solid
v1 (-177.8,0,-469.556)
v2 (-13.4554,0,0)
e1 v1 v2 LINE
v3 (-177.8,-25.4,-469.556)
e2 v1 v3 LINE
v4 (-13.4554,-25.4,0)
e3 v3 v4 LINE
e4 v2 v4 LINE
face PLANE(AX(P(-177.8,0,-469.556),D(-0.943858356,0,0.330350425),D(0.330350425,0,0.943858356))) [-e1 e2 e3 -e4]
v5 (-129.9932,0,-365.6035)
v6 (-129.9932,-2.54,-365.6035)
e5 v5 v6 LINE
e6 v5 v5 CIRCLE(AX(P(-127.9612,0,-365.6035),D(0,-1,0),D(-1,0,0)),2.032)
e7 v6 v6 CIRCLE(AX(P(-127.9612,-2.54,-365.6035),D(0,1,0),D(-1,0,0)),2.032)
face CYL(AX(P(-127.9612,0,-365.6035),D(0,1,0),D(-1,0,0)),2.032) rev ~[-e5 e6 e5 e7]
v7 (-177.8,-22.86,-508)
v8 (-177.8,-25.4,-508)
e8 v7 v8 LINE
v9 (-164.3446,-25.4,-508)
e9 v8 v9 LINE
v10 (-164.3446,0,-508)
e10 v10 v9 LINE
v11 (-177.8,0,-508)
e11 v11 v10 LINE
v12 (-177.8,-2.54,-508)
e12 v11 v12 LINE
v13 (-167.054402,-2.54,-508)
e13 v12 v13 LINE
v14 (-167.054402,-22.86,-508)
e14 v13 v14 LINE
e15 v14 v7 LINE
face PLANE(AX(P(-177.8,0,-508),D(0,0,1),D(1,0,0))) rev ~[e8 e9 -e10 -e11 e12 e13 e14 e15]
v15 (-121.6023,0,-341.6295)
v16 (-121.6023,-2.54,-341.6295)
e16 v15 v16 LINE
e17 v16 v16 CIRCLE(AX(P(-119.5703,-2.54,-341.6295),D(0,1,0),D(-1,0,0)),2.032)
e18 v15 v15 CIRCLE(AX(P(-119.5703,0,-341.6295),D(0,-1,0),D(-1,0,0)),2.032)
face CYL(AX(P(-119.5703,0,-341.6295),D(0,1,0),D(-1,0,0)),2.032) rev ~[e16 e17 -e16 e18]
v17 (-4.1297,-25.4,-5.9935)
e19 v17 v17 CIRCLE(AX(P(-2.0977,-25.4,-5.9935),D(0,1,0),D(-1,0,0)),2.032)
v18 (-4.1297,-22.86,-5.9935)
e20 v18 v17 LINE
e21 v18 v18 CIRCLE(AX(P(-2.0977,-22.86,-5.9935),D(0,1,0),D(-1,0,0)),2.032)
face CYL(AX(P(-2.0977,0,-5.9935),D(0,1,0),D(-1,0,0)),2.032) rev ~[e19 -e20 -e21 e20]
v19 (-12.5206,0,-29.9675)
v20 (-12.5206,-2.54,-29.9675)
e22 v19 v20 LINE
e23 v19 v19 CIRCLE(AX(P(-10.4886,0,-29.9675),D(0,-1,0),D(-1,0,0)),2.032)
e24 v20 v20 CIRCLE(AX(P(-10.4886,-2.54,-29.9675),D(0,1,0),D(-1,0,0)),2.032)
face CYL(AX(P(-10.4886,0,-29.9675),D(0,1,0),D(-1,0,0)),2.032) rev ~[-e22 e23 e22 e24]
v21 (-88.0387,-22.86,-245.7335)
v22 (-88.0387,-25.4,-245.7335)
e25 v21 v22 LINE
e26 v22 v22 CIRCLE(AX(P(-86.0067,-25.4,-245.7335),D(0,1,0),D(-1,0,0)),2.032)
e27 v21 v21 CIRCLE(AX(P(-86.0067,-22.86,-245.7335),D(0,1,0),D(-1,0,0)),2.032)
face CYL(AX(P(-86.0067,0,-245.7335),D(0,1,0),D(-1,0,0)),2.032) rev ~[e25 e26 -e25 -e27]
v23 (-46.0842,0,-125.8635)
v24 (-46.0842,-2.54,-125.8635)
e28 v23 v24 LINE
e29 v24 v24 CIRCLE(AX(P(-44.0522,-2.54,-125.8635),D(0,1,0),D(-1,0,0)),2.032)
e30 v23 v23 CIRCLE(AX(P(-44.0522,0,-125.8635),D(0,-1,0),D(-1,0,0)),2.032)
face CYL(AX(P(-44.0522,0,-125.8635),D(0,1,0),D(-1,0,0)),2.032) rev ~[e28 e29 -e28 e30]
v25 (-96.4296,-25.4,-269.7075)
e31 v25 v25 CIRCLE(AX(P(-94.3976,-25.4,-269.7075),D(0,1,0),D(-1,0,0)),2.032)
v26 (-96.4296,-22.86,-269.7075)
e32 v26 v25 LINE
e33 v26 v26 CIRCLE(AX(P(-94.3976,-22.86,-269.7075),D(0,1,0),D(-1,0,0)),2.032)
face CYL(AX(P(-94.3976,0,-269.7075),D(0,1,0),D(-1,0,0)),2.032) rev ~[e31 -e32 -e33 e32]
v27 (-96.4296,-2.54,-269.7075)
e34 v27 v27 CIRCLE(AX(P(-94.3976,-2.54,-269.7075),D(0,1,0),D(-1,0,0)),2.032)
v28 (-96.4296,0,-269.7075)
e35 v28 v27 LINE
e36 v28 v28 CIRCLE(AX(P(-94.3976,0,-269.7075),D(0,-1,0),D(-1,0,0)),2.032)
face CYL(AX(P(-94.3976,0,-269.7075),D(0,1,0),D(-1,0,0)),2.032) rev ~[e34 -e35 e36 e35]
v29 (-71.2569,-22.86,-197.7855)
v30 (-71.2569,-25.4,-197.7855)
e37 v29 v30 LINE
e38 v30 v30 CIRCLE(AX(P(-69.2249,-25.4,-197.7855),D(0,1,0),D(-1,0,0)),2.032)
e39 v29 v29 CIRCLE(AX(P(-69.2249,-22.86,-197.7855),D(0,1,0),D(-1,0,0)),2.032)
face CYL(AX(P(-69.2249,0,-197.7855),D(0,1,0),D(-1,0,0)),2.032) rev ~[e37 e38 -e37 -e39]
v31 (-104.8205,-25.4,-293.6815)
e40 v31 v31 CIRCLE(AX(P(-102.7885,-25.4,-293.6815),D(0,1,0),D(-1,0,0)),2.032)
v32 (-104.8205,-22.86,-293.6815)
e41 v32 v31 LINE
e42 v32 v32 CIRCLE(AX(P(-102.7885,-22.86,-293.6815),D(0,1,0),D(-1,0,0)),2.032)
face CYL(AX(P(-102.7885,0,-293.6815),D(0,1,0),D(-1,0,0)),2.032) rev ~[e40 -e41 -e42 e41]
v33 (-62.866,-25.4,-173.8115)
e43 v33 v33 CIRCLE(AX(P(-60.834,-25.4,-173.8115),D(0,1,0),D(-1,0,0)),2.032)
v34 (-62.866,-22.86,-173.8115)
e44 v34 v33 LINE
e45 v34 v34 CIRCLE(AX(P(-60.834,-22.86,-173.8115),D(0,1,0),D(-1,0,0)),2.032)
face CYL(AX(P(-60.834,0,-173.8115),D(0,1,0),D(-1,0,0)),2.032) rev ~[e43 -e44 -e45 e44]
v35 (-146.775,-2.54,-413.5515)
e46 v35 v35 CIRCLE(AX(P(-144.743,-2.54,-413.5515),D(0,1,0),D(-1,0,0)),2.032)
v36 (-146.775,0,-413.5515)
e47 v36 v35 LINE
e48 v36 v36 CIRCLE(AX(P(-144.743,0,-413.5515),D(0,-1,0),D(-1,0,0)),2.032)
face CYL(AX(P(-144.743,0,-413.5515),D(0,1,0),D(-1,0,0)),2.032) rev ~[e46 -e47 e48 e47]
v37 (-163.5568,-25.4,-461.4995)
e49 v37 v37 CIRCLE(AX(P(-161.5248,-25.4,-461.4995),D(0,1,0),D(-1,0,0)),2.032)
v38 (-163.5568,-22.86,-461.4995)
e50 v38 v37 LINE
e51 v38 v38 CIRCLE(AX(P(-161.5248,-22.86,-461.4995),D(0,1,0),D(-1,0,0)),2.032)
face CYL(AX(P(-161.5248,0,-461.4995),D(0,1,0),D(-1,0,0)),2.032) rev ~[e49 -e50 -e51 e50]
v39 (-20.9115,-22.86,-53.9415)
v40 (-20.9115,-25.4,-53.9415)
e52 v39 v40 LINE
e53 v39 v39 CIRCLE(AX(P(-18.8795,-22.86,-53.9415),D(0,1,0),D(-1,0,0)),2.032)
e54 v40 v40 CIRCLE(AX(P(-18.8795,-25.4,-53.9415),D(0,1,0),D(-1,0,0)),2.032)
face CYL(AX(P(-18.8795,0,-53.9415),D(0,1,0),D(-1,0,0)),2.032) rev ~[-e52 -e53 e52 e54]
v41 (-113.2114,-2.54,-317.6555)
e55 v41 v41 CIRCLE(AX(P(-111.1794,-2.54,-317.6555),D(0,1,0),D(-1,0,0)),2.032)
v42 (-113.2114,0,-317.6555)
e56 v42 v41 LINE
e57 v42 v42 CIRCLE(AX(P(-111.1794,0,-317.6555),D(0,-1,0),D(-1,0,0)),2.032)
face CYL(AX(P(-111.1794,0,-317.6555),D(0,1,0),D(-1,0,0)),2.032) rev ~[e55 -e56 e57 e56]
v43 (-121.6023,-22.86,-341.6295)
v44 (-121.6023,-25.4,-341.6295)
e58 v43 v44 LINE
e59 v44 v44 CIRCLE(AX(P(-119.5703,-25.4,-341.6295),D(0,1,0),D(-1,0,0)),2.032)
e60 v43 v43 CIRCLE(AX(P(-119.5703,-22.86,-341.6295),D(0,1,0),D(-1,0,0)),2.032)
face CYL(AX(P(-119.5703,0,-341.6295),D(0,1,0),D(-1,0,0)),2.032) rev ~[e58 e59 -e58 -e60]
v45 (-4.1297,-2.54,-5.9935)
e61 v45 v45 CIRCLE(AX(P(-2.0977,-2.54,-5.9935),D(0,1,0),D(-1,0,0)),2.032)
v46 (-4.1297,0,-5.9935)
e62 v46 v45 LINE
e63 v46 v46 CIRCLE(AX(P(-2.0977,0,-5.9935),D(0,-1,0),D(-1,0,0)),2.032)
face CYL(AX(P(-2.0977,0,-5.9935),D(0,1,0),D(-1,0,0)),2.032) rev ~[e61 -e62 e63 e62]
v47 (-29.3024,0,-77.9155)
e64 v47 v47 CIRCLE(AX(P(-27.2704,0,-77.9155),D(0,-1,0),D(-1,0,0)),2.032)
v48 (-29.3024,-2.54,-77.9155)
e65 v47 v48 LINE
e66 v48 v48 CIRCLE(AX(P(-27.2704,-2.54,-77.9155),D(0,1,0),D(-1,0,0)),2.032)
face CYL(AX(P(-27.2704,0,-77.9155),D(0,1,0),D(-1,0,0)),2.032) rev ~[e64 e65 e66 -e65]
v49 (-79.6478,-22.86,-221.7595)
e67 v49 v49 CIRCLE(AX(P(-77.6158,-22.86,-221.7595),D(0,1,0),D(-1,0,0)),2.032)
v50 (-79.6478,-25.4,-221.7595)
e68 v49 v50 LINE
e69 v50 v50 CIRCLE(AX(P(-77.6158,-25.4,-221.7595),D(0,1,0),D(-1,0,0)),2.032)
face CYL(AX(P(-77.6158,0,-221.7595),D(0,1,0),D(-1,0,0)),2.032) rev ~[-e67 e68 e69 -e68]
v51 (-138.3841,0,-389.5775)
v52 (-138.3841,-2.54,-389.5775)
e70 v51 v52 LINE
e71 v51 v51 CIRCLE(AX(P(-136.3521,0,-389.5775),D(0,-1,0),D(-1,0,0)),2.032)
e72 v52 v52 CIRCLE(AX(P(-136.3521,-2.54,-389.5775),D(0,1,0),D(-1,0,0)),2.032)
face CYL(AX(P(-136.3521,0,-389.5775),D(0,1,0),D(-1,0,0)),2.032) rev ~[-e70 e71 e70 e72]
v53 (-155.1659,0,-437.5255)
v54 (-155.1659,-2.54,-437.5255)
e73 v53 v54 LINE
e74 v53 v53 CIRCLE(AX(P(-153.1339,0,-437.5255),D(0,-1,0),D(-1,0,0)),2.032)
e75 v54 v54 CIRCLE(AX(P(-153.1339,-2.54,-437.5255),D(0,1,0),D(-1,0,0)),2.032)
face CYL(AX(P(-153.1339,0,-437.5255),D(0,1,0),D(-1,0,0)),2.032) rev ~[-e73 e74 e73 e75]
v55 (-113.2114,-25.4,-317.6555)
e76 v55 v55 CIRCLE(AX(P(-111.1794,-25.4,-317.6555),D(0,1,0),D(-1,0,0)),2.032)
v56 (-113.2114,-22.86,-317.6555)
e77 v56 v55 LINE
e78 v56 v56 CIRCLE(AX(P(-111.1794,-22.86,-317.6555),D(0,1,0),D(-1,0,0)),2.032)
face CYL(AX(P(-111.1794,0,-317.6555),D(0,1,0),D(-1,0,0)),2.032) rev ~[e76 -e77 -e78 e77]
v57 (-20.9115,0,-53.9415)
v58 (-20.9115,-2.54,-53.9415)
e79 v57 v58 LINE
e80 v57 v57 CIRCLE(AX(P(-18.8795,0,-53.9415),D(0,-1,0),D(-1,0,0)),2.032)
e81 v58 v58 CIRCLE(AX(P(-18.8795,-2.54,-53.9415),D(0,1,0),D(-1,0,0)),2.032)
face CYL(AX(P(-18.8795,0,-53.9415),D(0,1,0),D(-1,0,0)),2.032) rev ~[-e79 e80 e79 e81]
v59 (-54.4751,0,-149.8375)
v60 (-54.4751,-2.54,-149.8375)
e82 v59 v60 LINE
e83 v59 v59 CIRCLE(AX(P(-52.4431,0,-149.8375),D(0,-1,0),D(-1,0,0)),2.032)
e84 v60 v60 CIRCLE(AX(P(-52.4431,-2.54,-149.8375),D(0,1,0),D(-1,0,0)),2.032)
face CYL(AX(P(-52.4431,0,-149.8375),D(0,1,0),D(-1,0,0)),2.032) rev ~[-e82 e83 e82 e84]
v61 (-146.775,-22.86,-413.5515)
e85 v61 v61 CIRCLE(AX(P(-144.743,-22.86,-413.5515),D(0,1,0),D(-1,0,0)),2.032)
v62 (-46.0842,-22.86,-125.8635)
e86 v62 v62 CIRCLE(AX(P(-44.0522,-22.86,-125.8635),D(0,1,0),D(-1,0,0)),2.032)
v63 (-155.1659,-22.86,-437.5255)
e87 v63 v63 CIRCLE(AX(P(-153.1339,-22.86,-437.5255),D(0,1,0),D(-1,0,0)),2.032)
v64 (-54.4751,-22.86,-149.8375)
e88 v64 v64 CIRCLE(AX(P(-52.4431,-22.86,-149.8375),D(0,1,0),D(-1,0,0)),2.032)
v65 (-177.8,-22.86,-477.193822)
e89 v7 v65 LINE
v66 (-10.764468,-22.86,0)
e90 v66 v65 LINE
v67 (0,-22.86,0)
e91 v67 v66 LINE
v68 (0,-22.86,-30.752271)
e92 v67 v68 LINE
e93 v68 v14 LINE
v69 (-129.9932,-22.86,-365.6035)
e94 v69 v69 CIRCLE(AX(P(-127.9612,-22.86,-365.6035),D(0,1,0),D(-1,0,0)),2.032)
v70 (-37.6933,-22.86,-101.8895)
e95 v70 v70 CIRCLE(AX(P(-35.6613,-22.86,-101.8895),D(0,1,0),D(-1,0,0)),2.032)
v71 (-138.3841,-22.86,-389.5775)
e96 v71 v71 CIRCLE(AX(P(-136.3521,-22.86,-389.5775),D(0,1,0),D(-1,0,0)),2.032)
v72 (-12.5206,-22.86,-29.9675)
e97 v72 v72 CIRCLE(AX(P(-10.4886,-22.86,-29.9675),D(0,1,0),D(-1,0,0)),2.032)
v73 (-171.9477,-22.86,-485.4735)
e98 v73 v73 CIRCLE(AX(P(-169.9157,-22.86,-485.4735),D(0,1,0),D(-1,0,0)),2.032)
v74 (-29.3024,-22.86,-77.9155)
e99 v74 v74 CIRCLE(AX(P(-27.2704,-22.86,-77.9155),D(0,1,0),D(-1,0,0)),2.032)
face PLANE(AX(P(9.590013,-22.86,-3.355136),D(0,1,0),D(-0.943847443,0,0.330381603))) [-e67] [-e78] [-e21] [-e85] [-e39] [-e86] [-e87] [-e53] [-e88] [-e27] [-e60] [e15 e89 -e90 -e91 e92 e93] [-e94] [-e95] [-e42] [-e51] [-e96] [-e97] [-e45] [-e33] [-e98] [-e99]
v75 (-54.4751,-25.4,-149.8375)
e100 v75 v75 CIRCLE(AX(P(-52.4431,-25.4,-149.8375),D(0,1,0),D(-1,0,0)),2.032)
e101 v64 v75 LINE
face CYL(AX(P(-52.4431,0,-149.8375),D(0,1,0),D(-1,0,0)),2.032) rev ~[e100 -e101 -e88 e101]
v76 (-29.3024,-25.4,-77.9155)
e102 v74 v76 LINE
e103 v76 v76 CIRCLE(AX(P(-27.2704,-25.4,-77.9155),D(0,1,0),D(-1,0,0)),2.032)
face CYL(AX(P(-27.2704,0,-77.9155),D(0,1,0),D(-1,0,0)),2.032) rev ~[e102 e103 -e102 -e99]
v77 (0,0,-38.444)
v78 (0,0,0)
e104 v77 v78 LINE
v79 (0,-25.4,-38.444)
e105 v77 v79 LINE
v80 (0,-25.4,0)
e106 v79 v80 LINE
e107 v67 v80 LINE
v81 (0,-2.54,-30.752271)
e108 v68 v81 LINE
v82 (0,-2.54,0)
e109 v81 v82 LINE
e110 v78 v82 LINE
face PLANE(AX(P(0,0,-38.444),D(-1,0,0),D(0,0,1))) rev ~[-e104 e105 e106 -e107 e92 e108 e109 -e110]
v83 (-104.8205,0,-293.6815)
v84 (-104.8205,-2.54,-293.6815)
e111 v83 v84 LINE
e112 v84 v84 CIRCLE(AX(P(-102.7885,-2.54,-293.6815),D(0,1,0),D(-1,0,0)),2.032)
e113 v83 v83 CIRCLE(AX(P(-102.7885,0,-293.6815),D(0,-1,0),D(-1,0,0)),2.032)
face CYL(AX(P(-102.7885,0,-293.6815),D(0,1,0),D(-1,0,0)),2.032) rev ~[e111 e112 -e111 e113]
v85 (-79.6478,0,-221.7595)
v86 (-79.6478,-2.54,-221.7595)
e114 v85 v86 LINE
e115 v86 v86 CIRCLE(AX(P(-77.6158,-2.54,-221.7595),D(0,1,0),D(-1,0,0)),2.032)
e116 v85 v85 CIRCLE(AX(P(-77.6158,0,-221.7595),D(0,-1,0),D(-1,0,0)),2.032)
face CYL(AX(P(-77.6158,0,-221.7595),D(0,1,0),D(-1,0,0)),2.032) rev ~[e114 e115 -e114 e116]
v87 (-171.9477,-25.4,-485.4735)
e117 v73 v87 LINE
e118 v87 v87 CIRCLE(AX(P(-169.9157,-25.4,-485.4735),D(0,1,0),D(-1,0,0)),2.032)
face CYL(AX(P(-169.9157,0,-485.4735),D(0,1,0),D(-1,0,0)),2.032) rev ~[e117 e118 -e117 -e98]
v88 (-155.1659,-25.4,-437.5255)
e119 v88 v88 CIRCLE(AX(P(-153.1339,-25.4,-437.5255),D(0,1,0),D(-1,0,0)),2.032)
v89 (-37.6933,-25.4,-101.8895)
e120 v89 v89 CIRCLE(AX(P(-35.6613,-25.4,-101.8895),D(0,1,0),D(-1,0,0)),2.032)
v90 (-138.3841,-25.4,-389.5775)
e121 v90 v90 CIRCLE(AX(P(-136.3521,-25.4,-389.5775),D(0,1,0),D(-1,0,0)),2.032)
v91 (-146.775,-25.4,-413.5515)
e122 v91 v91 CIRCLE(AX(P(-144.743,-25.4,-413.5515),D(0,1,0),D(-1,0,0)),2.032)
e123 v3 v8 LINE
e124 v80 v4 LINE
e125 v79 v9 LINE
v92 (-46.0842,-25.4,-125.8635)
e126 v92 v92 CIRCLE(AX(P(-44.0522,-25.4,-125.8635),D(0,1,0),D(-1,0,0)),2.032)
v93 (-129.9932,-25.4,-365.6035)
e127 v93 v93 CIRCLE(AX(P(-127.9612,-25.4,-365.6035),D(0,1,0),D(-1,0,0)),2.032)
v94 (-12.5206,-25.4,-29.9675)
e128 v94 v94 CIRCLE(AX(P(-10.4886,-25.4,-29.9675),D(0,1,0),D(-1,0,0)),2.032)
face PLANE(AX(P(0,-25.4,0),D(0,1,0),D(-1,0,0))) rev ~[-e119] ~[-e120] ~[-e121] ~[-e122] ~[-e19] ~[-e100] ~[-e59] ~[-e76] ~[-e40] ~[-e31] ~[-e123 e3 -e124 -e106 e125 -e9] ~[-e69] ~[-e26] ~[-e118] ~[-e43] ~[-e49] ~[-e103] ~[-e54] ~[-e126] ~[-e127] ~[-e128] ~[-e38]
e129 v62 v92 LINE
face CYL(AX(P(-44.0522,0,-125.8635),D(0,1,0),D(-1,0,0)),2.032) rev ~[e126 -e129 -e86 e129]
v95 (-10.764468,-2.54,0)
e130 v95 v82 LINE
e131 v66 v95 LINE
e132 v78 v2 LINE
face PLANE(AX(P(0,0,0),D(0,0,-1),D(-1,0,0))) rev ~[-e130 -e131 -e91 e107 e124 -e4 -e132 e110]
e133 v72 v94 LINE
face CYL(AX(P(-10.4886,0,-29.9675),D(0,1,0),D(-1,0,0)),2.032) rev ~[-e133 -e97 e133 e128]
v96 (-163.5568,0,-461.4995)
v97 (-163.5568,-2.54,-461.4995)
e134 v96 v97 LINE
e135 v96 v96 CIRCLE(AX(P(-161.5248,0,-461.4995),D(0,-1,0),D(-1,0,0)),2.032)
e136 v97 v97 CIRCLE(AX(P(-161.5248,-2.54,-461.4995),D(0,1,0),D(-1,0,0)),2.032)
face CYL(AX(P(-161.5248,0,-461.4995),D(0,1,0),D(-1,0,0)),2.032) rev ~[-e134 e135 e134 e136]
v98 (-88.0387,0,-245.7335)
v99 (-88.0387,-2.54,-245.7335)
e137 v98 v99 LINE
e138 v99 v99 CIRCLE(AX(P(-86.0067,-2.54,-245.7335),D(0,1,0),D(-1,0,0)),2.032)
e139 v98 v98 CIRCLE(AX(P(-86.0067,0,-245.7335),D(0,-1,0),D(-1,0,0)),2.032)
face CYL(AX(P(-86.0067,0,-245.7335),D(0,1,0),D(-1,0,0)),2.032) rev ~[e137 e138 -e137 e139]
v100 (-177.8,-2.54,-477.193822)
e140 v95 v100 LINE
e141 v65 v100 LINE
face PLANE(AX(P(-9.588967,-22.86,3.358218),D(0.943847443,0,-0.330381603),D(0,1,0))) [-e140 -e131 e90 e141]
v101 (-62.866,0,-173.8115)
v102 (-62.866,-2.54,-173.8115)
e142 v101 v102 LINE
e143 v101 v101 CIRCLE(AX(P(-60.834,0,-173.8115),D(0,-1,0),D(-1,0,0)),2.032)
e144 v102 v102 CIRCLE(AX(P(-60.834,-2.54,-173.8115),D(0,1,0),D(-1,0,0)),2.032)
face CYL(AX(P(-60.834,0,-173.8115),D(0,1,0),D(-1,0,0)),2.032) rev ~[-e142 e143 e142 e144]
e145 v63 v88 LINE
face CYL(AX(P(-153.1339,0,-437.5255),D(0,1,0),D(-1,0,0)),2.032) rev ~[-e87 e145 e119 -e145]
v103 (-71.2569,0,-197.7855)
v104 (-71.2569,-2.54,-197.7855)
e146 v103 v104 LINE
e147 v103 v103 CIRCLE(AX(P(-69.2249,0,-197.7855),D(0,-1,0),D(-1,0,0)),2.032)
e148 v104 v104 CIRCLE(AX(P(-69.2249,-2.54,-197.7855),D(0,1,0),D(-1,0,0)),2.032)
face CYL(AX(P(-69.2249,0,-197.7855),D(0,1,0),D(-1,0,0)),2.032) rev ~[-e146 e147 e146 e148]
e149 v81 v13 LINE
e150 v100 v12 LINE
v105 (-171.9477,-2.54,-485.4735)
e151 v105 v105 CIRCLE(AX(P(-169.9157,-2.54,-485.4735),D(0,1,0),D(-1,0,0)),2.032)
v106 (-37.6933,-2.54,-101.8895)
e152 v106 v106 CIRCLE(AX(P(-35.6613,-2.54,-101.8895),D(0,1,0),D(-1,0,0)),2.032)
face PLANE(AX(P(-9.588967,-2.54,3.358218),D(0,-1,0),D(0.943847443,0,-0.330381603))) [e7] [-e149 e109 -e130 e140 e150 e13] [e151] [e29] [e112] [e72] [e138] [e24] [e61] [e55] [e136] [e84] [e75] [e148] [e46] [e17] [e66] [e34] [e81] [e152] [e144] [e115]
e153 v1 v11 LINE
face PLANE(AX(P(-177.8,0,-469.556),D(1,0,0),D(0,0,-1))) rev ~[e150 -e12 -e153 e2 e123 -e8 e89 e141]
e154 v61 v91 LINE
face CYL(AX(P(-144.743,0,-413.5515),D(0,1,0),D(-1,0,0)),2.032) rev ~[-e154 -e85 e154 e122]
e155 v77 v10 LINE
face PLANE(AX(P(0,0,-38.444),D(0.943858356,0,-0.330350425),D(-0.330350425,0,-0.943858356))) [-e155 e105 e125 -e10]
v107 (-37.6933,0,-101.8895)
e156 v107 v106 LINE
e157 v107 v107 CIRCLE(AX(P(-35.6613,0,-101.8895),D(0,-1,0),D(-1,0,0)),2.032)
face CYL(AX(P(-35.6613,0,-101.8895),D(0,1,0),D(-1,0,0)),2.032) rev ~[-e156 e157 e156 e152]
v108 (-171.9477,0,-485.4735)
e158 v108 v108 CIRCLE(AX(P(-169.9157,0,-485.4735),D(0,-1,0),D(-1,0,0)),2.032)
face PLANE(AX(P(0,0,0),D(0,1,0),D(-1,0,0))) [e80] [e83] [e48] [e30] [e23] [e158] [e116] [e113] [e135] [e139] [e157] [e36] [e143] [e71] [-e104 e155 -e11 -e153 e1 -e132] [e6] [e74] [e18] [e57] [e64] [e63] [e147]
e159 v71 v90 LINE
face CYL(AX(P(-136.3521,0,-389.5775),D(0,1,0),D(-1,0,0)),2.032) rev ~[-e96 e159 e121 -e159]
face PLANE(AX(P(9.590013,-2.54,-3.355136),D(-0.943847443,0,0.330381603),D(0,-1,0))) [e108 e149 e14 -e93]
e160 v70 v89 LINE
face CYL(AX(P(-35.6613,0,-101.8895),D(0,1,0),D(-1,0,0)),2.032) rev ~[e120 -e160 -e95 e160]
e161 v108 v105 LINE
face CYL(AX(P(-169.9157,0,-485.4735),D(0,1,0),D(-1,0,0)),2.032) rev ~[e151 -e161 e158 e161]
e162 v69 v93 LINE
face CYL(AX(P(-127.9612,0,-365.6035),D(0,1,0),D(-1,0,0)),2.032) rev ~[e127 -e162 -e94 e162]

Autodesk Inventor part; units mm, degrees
ref_plane "YZ Plane" through (0, 0, 0) normal (1, 0, 0) x (0, 1, 0)
ref_plane "XZ Plane" through (0, 0, 0) normal (0, 1, 0) x (-1, 0, 0)
ref_plane "XY Plane" through (0, 0, 0) normal (0, 0, 1) x (1, 0, 0)
sketch "Sketch1" plane through (0, 0, 0) normal (0, 1, 0) x (-1, 0, 0)
  line L0 (0, 0) -> (177.8, 0)
  line L1 (177.8, 0) -> (177.8, -508)
  line L2 (177.8, -508) -> (0, -508)
  line L3 (0, -508) -> (0, 0)
  line L4 (11.987, 4.1955) -> (189.787, -503.8045)
  line L5 (-11.987, -4.1955) -> (165.813, -512.1955)
  line L6 (0, -38.444) -> (164.3446, -508)
  line L7 (177.8, -469.556) -> (13.4554, 0)
  line L8 (-11.987, -4.1955) -> (11.987, 4.1955)
  line L9 (189.787, -503.8045) -> (165.813, -512.1955)
  line L10 (0, 0) -> (2.0977, -5.9935)
  circle A0 centre (2.0977, -5.9935) radius 2.032
  line L11 (2.0977, -5.9935) -> (10.4886, -29.9675)
  circle A1 centre (10.4886, -29.9675) radius 2.032
  line L12 (10.4886, -29.9675) -> (18.8795, -53.9415)
  circle A2 centre (18.8795, -53.9415) radius 2.032
  line L13 (18.8795, -53.9415) -> (27.2704, -77.9155)
  circle A3 centre (27.2704, -77.9155) radius 2.032
  line L14 (27.2704, -77.9155) -> (35.6613, -101.8895)
  circle A4 centre (35.6613, -101.8895) radius 2.032
  line L15 (35.6613, -101.8895) -> (177.8, -508)
  line L16 (27.2704, -77.9155) -> (35.6613, -101.8895)
  circle A5 centre (35.6613, -101.8895) radius 2.032
  line L17 (35.6613, -101.8895) -> (44.0522, -125.8635)
  circle A6 centre (44.0522, -125.8635) radius 2.032
  line L18 (35.6613, -101.8895) -> (44.0522, -125.8635)
  circle A7 centre (44.0522, -125.8635) radius 2.032
  line L19 (44.0522, -125.8635) -> (52.4431, -149.8375)
  circle A8 centre (52.4431, -149.8375) radius 2.032
  line L20 (44.0522, -125.8635) -> (52.4431, -149.8375)
  circle A9 centre (52.4431, -149.8375) radius 2.032
  line L21 (52.4431, -149.8375) -> (60.834, -173.8115)
  circle A10 centre (60.834, -173.8115) radius 2.032
  line L22 (52.4431, -149.8375) -> (60.834, -173.8115)
  circle A11 centre (60.834, -173.8115) radius 2.032
  line L23 (60.834, -173.8115) -> (69.2249, -197.7855)
  circle A12 centre (69.2249, -197.7855) radius 2.032
  line L24 (60.834, -173.8115) -> (69.2249, -197.7855)
  circle A13 centre (69.2249, -197.7855) radius 2.032
  line L25 (69.2249, -197.7855) -> (77.6158, -221.7595)
  circle A14 centre (77.6158, -221.7595) radius 2.032
  line L26 (69.2249, -197.7855) -> (77.6158, -221.7595)
  circle A15 centre (77.6158, -221.7595) radius 2.032
  line L27 (77.6158, -221.7595) -> (86.0067, -245.7335)
  circle A16 centre (86.0067, -245.7335) radius 2.032
  line L28 (77.6158, -221.7595) -> (86.0067, -245.7335)
  circle A17 centre (86.0067, -245.7335) radius 2.032
  line L29 (86.0067, -245.7335) -> (94.3976, -269.7075)
  circle A18 centre (94.3976, -269.7075) radius 2.032
  line L30 (86.0067, -245.7335) -> (94.3976, -269.7075)
  circle A19 centre (94.3976, -269.7075) radius 2.032
  line L31 (94.3976, -269.7075) -> (102.7885, -293.6815)
  circle A20 centre (102.7885, -293.6815) radius 2.032
  line L32 (94.3976, -269.7075) -> (102.7885, -293.6815)
  circle A21 centre (102.7885, -293.6815) radius 2.032
  line L33 (102.7885, -293.6815) -> (111.1794, -317.6555)
  circle A22 centre (111.1794, -317.6555) radius 2.032
  line L34 (102.7885, -293.6815) -> (111.1794, -317.6555)
  circle A23 centre (111.1794, -317.6555) radius 2.032
  line L35 (111.1794, -317.6555) -> (119.5703, -341.6295)
  circle A24 centre (119.5703, -341.6295) radius 2.032
  line L36 (111.1794, -317.6555) -> (119.5703, -341.6295)
  circle A25 centre (119.5703, -341.6295) radius 2.032
  line L37 (119.5703, -341.6295) -> (127.9612, -365.6035)
  circle A26 centre (127.9612, -365.6035) radius 2.032
  line L38 (119.5703, -341.6295) -> (127.9612, -365.6035)
  circle A27 centre (127.9612, -365.6035) radius 2.032
  line L39 (127.9612, -365.6035) -> (136.3521, -389.5775)
  circle A28 centre (136.3521, -389.5775) radius 2.032
  line L40 (127.9612, -365.6035) -> (136.3521, -389.5775)
  circle A29 centre (136.3521, -389.5775) radius 2.032
  line L41 (136.3521, -389.5775) -> (144.743, -413.5515)
  circle A30 centre (144.743, -413.5515) radius 2.032
  line L42 (136.3521, -389.5775) -> (144.743, -413.5515)
  circle A31 centre (144.743, -413.5515) radius 2.032
  line L43 (144.743, -413.5515) -> (153.1339, -437.5255)
  circle A32 centre (153.1339, -437.5255) radius 2.032
  line L44 (144.743, -413.5515) -> (153.1339, -437.5255)
  circle A33 centre (153.1339, -437.5255) radius 2.032
  line L45 (153.1339, -437.5255) -> (161.5248, -461.4995)
  circle A34 centre (161.5248, -461.4995) radius 2.032
  line L46 (153.1339, -437.5255) -> (161.5248, -461.4995)
  circle A35 centre (161.5248, -461.4995) radius 2.032
  line L47 (161.5248, -461.4995) -> (169.9157, -485.4735)
  circle A36 centre (169.9157, -485.4735) radius 2.032
  dimension "d0" = 177.8
  dimension "d1" = 508
  dimension "d19" = 25.4
extrude "Extrusion1" add sketch "Sketch1" against normal blind 25.4 contours L8 L4 L0 | L10 A0 L11 A1 L12 A2 L13 A3 L14 A4 L15 A6 A8 A10 A12 A14 A16 A18 A20 A22 A24 A26 A28 A30 A32 A34 A36 L2 L5 L3 | L0 L4 L1 L15 A36 A34 A32 A30 A28 A26 A24 A22 A20 A18 A16 A14 A12 A10 A8 A6 A4 L14 A3 L13 A2 L12 A1 L11 A0 L10
sketch "Sketch3" plane through (-11.987, -25.4, 4.1955) normal (0.3304, 0, 0.9439) x (0.9439, 0, -0.3304)
  line L0 (0, 25.4) -> (0, 0) projected
  line L1 (25.4, 25.4) -> (25.4, 0) projected
  line L2 (0, 25.4) -> (25.4, 25.4)
  line L3 (25.4, 25.4) -> (25.4, 0)
  line L4 (25.4, 0) -> (0, 0)
  line L5 (0, 0) -> (0, 25.4)
  line L6 (0, 25.4) -> (2.54, 25.4)
  line L7 (0, 25.4) -> (12.7, 25.4) projected
  line L8 (25.4, 0) -> (22.86, 0)
  line L9 (25.4, 0) -> (12.7, 0) projected
  line L10 (2.54, 25.4) -> (22.86, 25.4)
  line L11 (22.86, 0) -> (2.54, 0)
  line L12 (2.54, 25.4) -> (2.54, 22.86)
  line L13 (22.86, 0) -> (22.86, 2.54)
  line L14 (2.54, 22.86) -> (22.86, 22.86)
  line L15 (22.86, 22.86) -> (22.86, 2.54)
  line L16 (22.86, 2.54) -> (2.54, 2.54)
  line L17 (2.54, 2.54) -> (2.54, 22.86)
  dimension "d23" = 25.4
  dimension "d24" = 25.4
  dimension "d25" = 2.54
  dimension "d26" = 2.54
  dimension "d27" = 2.54
  dimension "d28" = 2.54
extrude "Extrusion2" cut sketch "Sketch3" against normal blind 556.26 contours L14 L15 L16 L17
extrude "Extrusion3" cut sketch "Sketch1" against normal blind 25.4 contours L8 L4 L0
properties part number "1 x 1 x 0.100 Pre-drilled stock ( angled)"
